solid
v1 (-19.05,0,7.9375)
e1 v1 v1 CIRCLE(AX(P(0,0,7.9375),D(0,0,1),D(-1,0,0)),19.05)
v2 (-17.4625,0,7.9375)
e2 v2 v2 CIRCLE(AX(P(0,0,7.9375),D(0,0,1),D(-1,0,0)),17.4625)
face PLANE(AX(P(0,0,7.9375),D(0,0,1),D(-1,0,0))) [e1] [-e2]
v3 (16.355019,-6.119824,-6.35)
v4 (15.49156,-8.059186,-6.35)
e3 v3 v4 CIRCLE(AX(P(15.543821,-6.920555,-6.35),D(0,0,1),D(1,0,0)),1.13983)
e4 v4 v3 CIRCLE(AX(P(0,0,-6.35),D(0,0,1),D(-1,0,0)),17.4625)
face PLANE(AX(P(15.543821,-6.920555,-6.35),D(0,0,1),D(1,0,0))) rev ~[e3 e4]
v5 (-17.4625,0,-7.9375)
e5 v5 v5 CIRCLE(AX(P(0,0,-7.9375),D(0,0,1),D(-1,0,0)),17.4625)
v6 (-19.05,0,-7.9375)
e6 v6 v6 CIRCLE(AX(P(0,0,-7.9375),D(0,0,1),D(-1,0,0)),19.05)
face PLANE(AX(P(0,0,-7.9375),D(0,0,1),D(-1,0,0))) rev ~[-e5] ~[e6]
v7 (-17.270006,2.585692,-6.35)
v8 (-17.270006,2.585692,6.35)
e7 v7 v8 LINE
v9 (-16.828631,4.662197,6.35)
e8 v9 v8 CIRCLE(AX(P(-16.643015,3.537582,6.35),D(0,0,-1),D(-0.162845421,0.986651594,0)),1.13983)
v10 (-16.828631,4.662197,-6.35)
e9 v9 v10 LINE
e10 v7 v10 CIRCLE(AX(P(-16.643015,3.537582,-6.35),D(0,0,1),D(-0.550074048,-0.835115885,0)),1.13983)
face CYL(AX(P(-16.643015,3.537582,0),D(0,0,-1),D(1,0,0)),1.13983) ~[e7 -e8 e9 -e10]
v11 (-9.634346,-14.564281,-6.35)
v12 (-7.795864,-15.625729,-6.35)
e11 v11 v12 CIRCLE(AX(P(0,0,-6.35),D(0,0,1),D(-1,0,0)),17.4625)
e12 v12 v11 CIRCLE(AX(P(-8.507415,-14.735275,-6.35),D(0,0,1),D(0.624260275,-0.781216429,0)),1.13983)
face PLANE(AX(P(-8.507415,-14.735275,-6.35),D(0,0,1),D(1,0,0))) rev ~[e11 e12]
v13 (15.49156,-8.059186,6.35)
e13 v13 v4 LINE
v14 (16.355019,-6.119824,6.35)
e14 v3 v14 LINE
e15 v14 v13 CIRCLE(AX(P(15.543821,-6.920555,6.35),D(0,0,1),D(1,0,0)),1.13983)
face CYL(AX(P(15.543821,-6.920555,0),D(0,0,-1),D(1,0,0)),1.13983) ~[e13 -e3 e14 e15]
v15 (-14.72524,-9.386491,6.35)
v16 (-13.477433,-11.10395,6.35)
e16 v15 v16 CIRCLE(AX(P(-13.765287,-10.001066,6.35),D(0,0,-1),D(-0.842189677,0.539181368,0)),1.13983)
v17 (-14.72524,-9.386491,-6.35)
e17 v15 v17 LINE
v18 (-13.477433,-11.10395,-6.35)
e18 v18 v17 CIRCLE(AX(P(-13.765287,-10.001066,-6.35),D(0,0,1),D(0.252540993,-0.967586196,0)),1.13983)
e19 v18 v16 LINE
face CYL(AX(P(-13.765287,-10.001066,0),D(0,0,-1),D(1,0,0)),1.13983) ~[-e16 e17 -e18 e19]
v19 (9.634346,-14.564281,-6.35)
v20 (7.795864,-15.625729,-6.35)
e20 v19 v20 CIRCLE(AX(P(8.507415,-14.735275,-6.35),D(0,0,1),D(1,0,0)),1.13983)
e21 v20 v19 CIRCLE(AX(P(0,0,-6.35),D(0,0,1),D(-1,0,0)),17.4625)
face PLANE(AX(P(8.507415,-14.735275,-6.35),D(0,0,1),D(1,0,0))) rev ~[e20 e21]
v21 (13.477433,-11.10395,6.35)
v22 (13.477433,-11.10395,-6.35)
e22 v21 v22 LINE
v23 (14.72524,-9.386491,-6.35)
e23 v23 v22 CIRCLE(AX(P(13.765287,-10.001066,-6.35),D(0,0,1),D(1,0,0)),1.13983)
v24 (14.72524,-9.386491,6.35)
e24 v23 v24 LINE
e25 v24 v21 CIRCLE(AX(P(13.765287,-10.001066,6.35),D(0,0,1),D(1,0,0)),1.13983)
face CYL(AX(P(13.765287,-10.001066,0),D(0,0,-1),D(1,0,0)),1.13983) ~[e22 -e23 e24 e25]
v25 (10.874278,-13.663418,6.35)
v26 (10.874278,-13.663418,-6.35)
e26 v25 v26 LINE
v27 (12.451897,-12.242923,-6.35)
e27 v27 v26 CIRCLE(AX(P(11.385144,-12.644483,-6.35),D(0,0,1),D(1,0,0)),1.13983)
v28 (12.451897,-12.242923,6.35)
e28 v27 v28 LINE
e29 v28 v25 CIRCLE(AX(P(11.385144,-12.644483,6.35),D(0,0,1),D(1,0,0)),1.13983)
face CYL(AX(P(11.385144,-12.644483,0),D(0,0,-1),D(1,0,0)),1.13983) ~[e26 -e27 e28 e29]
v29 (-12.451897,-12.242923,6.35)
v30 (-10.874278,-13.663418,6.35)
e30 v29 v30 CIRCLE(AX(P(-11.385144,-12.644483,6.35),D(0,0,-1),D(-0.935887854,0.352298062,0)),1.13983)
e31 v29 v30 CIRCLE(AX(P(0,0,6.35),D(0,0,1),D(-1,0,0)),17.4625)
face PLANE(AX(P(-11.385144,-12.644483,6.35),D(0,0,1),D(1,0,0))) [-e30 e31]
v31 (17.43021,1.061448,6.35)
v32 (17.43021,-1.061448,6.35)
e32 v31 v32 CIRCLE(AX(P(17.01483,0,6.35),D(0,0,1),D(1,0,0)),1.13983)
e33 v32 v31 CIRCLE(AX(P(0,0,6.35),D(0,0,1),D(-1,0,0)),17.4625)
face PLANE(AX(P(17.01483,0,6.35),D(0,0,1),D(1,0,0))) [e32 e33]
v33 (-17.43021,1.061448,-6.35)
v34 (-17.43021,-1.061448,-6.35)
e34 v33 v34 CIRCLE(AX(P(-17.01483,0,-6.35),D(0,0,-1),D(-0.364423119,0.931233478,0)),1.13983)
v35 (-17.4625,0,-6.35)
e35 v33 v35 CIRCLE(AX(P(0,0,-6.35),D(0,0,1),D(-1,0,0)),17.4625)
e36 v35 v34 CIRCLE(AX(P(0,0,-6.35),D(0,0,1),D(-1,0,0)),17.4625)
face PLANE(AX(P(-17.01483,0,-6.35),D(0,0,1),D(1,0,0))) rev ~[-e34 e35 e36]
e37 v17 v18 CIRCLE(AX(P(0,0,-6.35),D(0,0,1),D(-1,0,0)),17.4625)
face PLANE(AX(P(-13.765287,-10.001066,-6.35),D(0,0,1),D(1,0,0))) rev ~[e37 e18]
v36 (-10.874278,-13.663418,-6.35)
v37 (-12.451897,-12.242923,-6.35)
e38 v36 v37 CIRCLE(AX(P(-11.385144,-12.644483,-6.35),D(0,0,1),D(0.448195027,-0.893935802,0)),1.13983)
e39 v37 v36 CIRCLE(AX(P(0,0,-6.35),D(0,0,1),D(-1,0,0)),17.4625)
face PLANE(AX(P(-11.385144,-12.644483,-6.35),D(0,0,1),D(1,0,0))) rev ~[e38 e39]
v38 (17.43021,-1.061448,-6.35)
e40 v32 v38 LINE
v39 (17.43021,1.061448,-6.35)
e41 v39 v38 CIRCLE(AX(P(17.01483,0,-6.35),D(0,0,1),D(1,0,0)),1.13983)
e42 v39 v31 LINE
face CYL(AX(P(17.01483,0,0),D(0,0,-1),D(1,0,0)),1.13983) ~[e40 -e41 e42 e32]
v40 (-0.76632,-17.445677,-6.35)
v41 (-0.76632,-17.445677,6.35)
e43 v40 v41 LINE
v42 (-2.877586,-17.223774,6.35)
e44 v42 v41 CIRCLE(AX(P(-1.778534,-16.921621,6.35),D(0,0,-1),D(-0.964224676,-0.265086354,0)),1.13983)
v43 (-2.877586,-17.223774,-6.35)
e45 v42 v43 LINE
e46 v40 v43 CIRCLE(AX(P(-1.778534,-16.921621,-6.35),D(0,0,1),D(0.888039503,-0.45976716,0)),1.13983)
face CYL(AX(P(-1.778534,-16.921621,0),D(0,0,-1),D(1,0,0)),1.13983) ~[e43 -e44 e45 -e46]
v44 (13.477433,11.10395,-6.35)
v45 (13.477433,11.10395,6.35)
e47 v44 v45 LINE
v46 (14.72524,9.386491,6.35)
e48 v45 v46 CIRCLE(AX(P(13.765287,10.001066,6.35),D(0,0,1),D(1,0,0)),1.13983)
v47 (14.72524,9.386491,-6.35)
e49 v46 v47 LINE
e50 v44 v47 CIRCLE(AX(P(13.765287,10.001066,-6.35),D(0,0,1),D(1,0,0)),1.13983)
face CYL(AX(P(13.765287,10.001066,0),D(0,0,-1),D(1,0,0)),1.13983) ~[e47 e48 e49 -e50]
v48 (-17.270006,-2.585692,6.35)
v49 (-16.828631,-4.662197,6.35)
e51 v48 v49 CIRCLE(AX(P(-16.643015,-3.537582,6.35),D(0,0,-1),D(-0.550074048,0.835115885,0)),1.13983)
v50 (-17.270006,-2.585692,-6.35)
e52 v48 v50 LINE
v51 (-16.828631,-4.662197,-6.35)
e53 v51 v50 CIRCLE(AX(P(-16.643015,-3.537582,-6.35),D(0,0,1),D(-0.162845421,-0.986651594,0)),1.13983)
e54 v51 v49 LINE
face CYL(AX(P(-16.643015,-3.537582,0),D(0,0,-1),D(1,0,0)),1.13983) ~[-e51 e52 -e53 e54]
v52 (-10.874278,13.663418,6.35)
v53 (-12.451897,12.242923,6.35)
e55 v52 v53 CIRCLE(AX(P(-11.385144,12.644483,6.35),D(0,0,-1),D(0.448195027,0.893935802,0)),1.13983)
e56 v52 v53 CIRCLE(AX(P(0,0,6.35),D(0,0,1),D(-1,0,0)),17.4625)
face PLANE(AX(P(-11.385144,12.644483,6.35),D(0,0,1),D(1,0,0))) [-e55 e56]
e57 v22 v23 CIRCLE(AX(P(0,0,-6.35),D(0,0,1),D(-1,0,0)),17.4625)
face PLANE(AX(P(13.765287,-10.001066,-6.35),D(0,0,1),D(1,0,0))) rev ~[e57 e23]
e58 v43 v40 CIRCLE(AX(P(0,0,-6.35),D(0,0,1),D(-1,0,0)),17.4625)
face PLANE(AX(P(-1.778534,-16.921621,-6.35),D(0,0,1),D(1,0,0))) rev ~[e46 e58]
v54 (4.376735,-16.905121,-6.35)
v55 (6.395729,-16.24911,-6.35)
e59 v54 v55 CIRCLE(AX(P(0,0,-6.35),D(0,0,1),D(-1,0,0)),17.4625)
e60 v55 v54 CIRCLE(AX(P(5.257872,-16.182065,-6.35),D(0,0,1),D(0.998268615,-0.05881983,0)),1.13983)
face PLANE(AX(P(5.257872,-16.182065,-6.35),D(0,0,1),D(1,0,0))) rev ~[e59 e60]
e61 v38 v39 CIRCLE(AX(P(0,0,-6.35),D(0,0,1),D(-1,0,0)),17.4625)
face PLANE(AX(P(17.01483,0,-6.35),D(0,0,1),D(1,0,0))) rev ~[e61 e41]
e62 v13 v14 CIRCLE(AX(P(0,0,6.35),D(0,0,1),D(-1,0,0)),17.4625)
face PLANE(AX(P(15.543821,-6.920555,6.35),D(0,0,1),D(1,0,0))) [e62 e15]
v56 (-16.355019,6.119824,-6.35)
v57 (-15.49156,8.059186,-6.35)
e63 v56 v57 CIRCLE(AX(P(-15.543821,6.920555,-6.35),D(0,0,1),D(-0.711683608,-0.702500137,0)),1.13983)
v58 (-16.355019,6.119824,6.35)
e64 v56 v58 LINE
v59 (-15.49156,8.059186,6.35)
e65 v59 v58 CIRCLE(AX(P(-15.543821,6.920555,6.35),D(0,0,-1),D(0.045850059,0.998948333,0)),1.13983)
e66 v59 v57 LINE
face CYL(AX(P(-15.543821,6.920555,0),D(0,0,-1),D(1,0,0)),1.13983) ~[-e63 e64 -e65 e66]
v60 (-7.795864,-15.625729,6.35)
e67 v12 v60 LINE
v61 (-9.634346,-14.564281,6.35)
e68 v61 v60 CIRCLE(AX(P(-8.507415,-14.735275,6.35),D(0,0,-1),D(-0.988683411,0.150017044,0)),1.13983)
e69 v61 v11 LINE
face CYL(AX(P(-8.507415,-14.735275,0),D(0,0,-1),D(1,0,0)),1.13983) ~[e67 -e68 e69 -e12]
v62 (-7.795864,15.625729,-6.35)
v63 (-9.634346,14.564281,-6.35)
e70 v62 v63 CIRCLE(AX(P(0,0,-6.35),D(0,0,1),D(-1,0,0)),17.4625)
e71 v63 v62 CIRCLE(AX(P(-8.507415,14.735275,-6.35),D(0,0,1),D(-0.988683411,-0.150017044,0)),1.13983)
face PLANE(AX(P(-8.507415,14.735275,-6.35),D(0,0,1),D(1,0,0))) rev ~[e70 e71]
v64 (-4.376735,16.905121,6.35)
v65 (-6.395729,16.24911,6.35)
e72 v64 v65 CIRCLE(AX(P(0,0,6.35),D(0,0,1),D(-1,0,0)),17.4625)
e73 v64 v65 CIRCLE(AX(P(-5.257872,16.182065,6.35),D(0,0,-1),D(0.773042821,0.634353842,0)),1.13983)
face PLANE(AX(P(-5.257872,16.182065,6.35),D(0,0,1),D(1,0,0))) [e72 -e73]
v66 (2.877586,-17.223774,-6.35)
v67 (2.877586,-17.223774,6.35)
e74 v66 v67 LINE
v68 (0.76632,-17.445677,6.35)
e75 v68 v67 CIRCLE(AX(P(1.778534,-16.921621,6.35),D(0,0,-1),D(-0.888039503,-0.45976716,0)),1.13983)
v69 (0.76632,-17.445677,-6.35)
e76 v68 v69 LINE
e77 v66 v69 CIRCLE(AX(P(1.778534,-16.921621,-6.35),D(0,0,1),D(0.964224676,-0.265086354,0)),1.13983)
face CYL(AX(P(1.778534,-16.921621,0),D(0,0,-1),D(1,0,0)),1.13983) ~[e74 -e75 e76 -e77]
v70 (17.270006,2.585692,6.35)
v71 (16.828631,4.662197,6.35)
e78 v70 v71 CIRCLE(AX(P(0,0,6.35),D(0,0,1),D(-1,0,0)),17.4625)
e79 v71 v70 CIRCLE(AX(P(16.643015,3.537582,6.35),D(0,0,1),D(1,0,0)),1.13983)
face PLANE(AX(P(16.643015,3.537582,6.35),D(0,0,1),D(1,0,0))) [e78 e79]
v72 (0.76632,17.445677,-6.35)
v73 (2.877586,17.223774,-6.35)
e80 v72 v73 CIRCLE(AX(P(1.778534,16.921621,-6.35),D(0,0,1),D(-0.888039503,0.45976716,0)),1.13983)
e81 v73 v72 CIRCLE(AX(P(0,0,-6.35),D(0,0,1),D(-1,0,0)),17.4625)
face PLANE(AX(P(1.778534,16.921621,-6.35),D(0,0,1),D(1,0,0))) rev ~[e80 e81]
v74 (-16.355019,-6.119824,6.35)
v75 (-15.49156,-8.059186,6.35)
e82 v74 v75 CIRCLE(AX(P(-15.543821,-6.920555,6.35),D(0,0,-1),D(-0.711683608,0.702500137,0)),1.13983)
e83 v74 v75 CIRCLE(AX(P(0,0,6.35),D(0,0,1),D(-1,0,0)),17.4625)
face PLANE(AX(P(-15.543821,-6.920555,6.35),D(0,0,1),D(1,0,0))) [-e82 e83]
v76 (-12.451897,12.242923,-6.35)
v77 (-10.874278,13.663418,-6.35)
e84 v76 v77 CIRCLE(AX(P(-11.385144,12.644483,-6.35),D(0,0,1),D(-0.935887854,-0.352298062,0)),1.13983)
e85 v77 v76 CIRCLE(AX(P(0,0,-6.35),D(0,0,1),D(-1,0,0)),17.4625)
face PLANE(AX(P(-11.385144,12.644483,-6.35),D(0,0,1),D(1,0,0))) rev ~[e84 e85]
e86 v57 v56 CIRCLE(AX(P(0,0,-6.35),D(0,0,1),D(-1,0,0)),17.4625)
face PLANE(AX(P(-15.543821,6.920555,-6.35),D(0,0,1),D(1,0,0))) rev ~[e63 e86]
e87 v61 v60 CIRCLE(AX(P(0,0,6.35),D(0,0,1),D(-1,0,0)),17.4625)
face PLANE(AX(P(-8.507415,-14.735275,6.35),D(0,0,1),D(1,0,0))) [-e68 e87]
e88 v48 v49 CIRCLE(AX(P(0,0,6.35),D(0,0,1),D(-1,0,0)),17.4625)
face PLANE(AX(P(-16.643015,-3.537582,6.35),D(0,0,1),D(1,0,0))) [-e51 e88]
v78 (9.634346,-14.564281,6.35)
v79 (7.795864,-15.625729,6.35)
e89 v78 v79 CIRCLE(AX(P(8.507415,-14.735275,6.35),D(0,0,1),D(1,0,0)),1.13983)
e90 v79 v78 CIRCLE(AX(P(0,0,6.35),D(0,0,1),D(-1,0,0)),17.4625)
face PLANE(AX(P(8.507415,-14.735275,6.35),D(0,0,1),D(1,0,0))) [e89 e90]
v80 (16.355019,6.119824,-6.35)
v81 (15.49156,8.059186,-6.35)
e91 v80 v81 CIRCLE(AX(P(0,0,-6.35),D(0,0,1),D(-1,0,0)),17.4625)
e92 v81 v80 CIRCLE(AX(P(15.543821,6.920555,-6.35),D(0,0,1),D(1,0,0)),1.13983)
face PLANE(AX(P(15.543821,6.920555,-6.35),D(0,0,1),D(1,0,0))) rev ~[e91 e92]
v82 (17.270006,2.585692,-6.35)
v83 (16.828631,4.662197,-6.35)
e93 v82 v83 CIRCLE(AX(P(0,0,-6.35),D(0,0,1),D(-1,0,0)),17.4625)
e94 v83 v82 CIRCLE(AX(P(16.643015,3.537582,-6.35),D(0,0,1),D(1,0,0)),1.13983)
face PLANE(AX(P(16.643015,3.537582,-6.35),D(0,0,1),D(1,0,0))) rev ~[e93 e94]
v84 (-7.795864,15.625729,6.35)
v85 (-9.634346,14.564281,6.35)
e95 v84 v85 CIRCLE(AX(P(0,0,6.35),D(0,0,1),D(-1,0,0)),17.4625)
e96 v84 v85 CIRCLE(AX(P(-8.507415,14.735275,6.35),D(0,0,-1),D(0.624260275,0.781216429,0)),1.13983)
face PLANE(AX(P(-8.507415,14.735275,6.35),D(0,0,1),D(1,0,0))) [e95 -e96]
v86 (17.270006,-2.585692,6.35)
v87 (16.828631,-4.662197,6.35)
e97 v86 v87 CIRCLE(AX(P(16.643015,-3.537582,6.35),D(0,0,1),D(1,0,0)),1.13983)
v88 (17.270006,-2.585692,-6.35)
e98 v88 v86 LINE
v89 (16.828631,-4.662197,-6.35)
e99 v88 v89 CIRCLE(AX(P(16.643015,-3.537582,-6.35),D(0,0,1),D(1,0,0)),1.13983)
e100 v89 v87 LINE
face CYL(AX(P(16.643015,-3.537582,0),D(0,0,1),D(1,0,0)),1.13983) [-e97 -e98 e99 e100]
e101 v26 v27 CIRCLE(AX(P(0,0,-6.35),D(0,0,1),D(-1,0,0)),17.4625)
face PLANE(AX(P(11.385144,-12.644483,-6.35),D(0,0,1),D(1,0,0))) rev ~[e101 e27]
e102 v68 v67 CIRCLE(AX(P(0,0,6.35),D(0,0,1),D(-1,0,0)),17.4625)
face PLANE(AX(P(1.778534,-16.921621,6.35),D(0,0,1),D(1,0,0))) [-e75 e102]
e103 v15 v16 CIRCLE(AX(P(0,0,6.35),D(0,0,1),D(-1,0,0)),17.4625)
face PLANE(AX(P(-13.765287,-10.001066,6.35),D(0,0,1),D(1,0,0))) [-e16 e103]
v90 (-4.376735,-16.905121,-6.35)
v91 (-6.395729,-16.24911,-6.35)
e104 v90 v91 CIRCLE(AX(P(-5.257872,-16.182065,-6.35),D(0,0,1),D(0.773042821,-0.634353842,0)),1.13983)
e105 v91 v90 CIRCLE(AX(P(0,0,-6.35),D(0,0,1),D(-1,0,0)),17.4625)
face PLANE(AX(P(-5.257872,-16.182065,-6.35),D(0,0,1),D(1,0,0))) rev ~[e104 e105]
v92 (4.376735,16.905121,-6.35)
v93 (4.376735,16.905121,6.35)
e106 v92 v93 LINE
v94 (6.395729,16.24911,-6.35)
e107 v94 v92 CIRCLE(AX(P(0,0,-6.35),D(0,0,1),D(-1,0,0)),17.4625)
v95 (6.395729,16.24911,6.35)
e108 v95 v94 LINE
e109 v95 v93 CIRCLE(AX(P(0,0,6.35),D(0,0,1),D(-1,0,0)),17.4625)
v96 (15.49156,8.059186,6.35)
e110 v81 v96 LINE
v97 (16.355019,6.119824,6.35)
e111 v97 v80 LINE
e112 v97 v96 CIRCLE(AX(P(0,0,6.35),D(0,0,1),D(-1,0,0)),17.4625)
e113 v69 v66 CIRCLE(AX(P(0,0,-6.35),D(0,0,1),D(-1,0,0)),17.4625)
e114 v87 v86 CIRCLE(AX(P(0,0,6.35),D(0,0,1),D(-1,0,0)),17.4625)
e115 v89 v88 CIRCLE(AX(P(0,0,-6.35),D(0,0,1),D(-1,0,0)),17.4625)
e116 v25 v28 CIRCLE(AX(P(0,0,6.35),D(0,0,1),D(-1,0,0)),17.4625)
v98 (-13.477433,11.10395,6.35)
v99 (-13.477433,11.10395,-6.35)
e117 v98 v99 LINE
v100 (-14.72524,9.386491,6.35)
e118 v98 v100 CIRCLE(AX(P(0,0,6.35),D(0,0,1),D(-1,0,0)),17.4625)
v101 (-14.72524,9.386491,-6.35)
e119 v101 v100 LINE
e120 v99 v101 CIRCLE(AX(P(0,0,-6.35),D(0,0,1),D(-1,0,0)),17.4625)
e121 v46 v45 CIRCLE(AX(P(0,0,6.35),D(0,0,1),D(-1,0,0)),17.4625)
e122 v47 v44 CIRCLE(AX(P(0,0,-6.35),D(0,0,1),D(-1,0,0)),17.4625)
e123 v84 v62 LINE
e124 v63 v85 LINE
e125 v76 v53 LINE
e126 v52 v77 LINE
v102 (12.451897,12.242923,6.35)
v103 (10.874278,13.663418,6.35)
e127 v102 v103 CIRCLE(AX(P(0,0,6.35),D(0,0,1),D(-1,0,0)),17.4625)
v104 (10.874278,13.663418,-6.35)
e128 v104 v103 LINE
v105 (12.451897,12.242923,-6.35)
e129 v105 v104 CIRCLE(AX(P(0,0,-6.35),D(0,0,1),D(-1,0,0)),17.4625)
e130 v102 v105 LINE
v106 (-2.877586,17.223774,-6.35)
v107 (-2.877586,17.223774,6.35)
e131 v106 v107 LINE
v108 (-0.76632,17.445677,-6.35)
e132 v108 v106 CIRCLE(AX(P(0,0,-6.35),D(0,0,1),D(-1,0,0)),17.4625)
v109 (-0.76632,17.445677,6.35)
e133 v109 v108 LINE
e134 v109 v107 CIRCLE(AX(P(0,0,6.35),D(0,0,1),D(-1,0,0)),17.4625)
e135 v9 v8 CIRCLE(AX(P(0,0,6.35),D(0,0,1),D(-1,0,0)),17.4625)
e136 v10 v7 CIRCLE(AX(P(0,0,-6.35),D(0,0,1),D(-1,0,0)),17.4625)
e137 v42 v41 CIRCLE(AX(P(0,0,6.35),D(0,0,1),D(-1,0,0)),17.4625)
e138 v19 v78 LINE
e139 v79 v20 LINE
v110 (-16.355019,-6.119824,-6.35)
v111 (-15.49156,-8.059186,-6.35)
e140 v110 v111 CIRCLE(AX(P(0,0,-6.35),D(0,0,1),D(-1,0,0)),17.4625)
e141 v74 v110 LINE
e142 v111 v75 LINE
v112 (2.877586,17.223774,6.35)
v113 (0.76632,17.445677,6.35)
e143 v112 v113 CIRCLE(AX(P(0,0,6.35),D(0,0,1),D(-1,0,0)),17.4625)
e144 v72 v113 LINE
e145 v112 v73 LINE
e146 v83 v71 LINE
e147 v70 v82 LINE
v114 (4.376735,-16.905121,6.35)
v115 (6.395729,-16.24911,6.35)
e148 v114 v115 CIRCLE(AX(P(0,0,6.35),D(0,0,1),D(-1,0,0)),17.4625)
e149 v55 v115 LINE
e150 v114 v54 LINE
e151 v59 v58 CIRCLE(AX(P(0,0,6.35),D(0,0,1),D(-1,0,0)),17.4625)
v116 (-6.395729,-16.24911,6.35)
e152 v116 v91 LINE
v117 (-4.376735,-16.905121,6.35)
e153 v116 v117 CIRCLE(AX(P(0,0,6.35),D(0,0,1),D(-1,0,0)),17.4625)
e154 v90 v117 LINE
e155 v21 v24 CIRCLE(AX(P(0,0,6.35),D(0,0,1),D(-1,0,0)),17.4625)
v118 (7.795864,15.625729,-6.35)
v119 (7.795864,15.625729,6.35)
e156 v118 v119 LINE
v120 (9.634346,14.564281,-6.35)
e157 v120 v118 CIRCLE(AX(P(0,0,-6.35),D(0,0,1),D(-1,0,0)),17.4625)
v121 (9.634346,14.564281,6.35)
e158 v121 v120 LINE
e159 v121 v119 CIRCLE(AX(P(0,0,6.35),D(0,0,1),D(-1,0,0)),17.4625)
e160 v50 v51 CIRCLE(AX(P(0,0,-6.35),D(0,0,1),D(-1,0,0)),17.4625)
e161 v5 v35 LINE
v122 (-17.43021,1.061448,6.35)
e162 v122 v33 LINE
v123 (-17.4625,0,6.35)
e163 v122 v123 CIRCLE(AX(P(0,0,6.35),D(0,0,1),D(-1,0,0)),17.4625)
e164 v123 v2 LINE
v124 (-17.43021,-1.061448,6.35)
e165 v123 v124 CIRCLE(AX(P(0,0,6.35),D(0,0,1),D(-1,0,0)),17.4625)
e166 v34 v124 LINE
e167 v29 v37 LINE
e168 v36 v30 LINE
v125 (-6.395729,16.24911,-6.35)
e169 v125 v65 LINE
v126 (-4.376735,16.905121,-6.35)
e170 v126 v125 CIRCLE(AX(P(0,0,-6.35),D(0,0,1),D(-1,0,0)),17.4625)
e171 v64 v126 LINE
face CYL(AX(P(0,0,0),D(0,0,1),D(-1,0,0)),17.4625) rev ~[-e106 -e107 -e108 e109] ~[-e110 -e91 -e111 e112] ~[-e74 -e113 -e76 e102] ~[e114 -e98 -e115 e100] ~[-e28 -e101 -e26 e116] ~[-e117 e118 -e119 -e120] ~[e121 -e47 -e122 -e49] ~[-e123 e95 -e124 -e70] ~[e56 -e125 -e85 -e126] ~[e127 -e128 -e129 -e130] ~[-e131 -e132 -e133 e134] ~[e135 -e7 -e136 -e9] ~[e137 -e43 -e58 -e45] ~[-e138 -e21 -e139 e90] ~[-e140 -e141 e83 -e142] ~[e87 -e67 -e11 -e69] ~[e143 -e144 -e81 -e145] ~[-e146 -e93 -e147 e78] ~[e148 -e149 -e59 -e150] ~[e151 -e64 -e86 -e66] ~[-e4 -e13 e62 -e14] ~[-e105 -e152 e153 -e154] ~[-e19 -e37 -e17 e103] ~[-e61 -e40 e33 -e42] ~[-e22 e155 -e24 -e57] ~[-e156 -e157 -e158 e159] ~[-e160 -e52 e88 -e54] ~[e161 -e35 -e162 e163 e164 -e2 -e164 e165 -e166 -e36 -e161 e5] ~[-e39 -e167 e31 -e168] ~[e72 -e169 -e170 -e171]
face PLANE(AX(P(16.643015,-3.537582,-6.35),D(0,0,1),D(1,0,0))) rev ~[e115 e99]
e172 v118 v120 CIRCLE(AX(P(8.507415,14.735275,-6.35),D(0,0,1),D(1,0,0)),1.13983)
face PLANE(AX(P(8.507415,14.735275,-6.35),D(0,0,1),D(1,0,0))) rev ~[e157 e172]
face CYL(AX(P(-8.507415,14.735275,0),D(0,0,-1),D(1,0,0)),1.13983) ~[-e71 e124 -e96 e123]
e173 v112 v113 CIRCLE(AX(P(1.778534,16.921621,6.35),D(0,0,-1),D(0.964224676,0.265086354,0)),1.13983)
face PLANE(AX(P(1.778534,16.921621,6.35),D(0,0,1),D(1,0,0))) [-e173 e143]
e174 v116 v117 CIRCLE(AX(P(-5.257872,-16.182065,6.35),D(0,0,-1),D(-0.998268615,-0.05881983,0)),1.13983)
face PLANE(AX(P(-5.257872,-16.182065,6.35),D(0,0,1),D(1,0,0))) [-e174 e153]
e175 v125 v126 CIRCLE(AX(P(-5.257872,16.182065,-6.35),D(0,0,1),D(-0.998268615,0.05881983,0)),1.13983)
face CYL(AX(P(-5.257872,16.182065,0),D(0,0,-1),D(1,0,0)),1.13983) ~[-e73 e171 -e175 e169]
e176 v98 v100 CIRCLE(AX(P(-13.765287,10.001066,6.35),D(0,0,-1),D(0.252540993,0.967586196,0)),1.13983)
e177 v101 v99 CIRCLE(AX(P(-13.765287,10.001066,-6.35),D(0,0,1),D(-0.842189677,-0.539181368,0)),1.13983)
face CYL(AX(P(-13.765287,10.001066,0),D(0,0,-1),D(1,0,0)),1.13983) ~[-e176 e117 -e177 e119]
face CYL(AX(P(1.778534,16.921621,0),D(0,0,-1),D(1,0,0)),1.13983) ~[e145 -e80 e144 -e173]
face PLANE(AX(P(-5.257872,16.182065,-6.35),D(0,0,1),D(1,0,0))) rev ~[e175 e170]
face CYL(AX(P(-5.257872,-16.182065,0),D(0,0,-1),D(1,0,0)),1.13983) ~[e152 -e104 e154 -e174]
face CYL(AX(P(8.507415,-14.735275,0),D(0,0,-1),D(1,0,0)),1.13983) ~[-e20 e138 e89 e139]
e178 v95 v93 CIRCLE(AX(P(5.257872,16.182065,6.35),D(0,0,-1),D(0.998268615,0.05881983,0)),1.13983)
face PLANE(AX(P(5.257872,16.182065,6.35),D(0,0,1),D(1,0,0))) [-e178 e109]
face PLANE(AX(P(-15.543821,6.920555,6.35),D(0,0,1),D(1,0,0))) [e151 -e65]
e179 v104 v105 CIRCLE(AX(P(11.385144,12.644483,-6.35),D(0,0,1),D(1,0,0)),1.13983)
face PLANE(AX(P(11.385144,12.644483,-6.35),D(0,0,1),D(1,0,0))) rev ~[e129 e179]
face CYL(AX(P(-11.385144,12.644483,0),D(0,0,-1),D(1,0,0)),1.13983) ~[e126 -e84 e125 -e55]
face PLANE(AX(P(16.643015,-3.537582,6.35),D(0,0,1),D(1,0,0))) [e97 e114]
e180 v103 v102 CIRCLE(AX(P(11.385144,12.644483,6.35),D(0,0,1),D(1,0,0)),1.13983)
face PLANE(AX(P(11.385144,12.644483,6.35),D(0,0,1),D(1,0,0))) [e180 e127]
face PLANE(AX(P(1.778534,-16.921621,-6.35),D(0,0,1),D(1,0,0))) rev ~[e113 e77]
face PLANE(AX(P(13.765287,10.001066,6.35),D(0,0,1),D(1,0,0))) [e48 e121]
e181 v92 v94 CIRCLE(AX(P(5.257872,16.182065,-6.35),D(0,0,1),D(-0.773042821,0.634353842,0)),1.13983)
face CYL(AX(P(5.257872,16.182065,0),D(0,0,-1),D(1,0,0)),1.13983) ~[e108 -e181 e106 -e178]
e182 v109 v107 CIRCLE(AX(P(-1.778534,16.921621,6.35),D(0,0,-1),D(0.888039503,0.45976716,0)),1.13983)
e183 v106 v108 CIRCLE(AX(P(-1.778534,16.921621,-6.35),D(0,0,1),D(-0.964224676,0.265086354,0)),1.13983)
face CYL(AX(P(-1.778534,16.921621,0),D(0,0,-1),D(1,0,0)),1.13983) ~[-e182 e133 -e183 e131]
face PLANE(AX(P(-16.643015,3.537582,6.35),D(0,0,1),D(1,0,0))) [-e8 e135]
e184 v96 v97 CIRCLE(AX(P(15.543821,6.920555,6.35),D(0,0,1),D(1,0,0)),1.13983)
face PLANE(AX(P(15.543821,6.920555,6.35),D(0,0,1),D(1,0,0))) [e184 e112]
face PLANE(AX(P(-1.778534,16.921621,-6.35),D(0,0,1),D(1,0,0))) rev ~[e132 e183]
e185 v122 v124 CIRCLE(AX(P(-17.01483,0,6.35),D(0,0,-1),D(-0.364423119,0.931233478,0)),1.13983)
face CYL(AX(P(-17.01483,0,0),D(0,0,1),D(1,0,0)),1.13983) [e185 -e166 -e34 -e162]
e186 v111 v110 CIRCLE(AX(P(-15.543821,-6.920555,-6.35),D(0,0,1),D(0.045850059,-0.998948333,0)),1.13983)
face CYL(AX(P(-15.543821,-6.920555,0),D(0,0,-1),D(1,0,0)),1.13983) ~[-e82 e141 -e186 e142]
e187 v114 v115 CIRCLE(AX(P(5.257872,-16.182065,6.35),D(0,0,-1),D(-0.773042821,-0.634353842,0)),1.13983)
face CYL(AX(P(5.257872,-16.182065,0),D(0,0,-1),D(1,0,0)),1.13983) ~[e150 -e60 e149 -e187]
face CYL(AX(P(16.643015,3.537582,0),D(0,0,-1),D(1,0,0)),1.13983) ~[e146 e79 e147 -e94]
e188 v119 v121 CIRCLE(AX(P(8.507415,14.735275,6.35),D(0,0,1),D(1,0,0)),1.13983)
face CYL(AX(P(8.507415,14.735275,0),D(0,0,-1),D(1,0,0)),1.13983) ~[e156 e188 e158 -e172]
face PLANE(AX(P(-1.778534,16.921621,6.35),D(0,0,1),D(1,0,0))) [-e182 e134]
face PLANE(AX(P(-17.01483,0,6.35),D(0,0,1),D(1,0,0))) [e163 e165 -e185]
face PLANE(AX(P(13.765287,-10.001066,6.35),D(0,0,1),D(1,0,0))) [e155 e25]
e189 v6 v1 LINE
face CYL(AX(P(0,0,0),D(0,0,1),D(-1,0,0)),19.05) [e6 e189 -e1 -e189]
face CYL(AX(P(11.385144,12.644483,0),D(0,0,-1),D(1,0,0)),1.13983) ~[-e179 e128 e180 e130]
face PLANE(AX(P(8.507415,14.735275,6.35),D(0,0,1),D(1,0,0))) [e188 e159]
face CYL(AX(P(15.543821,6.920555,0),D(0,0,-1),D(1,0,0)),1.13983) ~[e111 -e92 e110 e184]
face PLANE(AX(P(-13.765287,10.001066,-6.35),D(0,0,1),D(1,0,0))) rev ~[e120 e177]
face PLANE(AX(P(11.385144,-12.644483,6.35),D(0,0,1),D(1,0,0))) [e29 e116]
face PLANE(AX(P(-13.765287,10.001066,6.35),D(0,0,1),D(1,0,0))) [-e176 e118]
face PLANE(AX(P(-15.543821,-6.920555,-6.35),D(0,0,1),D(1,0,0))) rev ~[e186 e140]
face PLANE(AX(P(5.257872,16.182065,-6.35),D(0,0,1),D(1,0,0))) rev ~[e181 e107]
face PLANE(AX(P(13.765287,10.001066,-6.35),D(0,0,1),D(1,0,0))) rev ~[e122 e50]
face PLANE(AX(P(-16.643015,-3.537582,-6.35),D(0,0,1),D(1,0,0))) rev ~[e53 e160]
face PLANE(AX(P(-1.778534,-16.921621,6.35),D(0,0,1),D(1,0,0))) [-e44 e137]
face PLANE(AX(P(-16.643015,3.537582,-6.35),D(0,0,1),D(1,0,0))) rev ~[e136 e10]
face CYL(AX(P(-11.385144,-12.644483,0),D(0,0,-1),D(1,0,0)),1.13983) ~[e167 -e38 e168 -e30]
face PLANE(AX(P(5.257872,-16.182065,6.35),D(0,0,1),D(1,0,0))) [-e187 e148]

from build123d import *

# Parameters (mm, degrees)
F0_W     = 1.5875
F0_H     = 15.875
F2_R     = 1.13983
F3_DEPTH = 6.35


with BuildPart() as f1:
    # F0 (on Front) → F1 (revolve)
    with BuildSketch(Plane.XZ):
        with Locations((-18.25625, 0)):
            Rectangle(F0_W, F0_H)
    revolve(axis=Axis((0, 0, 36.088426), (0, 0, 1)))

    # F2 (on Top) → F3 (join, symmetric)
    with BuildSketch(Plane.XY):
        with Locations((17.01483, 0)):
            Circle(F2_R)
        with Locations((16.643015, 3.537582)):
            Circle(F2_R)
        with Locations((15.543821, 6.920555)):
            Circle(F2_R)
        with Locations((13.765287, 10.001066)):
            Circle(F2_R)
        with Locations((11.385144, 12.644483)):
            Circle(F2_R)
        with Locations((8.507415, 14.735275)):
            Circle(F2_R)
        with Locations((5.257872, 16.182065)):
            Circle(F2_R)
        with Locations((1.778534, 16.921621)):
            Circle(F2_R)
        with Locations((-1.778534, 16.921621)):
            Circle(F2_R)
        with Locations((-5.257872, 16.182065)):
            Circle(F2_R)
        with Locations((-8.507415, 14.735275)):
            Circle(F2_R)
        with Locations((-11.385144, 12.644483)):
            Circle(F2_R)
        with Locations((-13.765287, 10.001066)):
            Circle(F2_R)
        with Locations((-15.543821, 6.920555)):
            Circle(F2_R)
        with Locations((-16.643015, 3.537582)):
            Circle(F2_R)
        with Locations((-17.01483, 0)):
            Circle(F2_R)
        with Locations((-16.643015, -3.537582)):
            Circle(F2_R)
        with Locations((-15.543821, -6.920555)):
            Circle(F2_R)
        with Locations((-13.765287, -10.001066)):
            Circle(F2_R)
        with Locations((-11.385144, -12.644483)):
            Circle(F2_R)
        with Locations((-8.507415, -14.735275)):
            Circle(F2_R)
        with Locations((-5.257872, -16.182065)):
            Circle(F2_R)
        with Locations((-1.778534, -16.921621)):
            Circle(F2_R)
        with Locations((1.778534, -16.921621)):
            Circle(F2_R)
        with Locations((5.257872, -16.182065)):
            Circle(F2_R)
        with Locations((8.507415, -14.735275)):
            Circle(F2_R)
        with Locations((11.385144, -12.644483)):
            Circle(F2_R)
        with Locations((13.765287, -10.001066)):
            Circle(F2_R)
        with Locations((15.543821, -6.920555)):
            Circle(F2_R)
        with Locations((16.643015, -3.537582)):
            Circle(F2_R)
    extrude(amount=F3_DEPTH, both=True)


solid = f1.part
